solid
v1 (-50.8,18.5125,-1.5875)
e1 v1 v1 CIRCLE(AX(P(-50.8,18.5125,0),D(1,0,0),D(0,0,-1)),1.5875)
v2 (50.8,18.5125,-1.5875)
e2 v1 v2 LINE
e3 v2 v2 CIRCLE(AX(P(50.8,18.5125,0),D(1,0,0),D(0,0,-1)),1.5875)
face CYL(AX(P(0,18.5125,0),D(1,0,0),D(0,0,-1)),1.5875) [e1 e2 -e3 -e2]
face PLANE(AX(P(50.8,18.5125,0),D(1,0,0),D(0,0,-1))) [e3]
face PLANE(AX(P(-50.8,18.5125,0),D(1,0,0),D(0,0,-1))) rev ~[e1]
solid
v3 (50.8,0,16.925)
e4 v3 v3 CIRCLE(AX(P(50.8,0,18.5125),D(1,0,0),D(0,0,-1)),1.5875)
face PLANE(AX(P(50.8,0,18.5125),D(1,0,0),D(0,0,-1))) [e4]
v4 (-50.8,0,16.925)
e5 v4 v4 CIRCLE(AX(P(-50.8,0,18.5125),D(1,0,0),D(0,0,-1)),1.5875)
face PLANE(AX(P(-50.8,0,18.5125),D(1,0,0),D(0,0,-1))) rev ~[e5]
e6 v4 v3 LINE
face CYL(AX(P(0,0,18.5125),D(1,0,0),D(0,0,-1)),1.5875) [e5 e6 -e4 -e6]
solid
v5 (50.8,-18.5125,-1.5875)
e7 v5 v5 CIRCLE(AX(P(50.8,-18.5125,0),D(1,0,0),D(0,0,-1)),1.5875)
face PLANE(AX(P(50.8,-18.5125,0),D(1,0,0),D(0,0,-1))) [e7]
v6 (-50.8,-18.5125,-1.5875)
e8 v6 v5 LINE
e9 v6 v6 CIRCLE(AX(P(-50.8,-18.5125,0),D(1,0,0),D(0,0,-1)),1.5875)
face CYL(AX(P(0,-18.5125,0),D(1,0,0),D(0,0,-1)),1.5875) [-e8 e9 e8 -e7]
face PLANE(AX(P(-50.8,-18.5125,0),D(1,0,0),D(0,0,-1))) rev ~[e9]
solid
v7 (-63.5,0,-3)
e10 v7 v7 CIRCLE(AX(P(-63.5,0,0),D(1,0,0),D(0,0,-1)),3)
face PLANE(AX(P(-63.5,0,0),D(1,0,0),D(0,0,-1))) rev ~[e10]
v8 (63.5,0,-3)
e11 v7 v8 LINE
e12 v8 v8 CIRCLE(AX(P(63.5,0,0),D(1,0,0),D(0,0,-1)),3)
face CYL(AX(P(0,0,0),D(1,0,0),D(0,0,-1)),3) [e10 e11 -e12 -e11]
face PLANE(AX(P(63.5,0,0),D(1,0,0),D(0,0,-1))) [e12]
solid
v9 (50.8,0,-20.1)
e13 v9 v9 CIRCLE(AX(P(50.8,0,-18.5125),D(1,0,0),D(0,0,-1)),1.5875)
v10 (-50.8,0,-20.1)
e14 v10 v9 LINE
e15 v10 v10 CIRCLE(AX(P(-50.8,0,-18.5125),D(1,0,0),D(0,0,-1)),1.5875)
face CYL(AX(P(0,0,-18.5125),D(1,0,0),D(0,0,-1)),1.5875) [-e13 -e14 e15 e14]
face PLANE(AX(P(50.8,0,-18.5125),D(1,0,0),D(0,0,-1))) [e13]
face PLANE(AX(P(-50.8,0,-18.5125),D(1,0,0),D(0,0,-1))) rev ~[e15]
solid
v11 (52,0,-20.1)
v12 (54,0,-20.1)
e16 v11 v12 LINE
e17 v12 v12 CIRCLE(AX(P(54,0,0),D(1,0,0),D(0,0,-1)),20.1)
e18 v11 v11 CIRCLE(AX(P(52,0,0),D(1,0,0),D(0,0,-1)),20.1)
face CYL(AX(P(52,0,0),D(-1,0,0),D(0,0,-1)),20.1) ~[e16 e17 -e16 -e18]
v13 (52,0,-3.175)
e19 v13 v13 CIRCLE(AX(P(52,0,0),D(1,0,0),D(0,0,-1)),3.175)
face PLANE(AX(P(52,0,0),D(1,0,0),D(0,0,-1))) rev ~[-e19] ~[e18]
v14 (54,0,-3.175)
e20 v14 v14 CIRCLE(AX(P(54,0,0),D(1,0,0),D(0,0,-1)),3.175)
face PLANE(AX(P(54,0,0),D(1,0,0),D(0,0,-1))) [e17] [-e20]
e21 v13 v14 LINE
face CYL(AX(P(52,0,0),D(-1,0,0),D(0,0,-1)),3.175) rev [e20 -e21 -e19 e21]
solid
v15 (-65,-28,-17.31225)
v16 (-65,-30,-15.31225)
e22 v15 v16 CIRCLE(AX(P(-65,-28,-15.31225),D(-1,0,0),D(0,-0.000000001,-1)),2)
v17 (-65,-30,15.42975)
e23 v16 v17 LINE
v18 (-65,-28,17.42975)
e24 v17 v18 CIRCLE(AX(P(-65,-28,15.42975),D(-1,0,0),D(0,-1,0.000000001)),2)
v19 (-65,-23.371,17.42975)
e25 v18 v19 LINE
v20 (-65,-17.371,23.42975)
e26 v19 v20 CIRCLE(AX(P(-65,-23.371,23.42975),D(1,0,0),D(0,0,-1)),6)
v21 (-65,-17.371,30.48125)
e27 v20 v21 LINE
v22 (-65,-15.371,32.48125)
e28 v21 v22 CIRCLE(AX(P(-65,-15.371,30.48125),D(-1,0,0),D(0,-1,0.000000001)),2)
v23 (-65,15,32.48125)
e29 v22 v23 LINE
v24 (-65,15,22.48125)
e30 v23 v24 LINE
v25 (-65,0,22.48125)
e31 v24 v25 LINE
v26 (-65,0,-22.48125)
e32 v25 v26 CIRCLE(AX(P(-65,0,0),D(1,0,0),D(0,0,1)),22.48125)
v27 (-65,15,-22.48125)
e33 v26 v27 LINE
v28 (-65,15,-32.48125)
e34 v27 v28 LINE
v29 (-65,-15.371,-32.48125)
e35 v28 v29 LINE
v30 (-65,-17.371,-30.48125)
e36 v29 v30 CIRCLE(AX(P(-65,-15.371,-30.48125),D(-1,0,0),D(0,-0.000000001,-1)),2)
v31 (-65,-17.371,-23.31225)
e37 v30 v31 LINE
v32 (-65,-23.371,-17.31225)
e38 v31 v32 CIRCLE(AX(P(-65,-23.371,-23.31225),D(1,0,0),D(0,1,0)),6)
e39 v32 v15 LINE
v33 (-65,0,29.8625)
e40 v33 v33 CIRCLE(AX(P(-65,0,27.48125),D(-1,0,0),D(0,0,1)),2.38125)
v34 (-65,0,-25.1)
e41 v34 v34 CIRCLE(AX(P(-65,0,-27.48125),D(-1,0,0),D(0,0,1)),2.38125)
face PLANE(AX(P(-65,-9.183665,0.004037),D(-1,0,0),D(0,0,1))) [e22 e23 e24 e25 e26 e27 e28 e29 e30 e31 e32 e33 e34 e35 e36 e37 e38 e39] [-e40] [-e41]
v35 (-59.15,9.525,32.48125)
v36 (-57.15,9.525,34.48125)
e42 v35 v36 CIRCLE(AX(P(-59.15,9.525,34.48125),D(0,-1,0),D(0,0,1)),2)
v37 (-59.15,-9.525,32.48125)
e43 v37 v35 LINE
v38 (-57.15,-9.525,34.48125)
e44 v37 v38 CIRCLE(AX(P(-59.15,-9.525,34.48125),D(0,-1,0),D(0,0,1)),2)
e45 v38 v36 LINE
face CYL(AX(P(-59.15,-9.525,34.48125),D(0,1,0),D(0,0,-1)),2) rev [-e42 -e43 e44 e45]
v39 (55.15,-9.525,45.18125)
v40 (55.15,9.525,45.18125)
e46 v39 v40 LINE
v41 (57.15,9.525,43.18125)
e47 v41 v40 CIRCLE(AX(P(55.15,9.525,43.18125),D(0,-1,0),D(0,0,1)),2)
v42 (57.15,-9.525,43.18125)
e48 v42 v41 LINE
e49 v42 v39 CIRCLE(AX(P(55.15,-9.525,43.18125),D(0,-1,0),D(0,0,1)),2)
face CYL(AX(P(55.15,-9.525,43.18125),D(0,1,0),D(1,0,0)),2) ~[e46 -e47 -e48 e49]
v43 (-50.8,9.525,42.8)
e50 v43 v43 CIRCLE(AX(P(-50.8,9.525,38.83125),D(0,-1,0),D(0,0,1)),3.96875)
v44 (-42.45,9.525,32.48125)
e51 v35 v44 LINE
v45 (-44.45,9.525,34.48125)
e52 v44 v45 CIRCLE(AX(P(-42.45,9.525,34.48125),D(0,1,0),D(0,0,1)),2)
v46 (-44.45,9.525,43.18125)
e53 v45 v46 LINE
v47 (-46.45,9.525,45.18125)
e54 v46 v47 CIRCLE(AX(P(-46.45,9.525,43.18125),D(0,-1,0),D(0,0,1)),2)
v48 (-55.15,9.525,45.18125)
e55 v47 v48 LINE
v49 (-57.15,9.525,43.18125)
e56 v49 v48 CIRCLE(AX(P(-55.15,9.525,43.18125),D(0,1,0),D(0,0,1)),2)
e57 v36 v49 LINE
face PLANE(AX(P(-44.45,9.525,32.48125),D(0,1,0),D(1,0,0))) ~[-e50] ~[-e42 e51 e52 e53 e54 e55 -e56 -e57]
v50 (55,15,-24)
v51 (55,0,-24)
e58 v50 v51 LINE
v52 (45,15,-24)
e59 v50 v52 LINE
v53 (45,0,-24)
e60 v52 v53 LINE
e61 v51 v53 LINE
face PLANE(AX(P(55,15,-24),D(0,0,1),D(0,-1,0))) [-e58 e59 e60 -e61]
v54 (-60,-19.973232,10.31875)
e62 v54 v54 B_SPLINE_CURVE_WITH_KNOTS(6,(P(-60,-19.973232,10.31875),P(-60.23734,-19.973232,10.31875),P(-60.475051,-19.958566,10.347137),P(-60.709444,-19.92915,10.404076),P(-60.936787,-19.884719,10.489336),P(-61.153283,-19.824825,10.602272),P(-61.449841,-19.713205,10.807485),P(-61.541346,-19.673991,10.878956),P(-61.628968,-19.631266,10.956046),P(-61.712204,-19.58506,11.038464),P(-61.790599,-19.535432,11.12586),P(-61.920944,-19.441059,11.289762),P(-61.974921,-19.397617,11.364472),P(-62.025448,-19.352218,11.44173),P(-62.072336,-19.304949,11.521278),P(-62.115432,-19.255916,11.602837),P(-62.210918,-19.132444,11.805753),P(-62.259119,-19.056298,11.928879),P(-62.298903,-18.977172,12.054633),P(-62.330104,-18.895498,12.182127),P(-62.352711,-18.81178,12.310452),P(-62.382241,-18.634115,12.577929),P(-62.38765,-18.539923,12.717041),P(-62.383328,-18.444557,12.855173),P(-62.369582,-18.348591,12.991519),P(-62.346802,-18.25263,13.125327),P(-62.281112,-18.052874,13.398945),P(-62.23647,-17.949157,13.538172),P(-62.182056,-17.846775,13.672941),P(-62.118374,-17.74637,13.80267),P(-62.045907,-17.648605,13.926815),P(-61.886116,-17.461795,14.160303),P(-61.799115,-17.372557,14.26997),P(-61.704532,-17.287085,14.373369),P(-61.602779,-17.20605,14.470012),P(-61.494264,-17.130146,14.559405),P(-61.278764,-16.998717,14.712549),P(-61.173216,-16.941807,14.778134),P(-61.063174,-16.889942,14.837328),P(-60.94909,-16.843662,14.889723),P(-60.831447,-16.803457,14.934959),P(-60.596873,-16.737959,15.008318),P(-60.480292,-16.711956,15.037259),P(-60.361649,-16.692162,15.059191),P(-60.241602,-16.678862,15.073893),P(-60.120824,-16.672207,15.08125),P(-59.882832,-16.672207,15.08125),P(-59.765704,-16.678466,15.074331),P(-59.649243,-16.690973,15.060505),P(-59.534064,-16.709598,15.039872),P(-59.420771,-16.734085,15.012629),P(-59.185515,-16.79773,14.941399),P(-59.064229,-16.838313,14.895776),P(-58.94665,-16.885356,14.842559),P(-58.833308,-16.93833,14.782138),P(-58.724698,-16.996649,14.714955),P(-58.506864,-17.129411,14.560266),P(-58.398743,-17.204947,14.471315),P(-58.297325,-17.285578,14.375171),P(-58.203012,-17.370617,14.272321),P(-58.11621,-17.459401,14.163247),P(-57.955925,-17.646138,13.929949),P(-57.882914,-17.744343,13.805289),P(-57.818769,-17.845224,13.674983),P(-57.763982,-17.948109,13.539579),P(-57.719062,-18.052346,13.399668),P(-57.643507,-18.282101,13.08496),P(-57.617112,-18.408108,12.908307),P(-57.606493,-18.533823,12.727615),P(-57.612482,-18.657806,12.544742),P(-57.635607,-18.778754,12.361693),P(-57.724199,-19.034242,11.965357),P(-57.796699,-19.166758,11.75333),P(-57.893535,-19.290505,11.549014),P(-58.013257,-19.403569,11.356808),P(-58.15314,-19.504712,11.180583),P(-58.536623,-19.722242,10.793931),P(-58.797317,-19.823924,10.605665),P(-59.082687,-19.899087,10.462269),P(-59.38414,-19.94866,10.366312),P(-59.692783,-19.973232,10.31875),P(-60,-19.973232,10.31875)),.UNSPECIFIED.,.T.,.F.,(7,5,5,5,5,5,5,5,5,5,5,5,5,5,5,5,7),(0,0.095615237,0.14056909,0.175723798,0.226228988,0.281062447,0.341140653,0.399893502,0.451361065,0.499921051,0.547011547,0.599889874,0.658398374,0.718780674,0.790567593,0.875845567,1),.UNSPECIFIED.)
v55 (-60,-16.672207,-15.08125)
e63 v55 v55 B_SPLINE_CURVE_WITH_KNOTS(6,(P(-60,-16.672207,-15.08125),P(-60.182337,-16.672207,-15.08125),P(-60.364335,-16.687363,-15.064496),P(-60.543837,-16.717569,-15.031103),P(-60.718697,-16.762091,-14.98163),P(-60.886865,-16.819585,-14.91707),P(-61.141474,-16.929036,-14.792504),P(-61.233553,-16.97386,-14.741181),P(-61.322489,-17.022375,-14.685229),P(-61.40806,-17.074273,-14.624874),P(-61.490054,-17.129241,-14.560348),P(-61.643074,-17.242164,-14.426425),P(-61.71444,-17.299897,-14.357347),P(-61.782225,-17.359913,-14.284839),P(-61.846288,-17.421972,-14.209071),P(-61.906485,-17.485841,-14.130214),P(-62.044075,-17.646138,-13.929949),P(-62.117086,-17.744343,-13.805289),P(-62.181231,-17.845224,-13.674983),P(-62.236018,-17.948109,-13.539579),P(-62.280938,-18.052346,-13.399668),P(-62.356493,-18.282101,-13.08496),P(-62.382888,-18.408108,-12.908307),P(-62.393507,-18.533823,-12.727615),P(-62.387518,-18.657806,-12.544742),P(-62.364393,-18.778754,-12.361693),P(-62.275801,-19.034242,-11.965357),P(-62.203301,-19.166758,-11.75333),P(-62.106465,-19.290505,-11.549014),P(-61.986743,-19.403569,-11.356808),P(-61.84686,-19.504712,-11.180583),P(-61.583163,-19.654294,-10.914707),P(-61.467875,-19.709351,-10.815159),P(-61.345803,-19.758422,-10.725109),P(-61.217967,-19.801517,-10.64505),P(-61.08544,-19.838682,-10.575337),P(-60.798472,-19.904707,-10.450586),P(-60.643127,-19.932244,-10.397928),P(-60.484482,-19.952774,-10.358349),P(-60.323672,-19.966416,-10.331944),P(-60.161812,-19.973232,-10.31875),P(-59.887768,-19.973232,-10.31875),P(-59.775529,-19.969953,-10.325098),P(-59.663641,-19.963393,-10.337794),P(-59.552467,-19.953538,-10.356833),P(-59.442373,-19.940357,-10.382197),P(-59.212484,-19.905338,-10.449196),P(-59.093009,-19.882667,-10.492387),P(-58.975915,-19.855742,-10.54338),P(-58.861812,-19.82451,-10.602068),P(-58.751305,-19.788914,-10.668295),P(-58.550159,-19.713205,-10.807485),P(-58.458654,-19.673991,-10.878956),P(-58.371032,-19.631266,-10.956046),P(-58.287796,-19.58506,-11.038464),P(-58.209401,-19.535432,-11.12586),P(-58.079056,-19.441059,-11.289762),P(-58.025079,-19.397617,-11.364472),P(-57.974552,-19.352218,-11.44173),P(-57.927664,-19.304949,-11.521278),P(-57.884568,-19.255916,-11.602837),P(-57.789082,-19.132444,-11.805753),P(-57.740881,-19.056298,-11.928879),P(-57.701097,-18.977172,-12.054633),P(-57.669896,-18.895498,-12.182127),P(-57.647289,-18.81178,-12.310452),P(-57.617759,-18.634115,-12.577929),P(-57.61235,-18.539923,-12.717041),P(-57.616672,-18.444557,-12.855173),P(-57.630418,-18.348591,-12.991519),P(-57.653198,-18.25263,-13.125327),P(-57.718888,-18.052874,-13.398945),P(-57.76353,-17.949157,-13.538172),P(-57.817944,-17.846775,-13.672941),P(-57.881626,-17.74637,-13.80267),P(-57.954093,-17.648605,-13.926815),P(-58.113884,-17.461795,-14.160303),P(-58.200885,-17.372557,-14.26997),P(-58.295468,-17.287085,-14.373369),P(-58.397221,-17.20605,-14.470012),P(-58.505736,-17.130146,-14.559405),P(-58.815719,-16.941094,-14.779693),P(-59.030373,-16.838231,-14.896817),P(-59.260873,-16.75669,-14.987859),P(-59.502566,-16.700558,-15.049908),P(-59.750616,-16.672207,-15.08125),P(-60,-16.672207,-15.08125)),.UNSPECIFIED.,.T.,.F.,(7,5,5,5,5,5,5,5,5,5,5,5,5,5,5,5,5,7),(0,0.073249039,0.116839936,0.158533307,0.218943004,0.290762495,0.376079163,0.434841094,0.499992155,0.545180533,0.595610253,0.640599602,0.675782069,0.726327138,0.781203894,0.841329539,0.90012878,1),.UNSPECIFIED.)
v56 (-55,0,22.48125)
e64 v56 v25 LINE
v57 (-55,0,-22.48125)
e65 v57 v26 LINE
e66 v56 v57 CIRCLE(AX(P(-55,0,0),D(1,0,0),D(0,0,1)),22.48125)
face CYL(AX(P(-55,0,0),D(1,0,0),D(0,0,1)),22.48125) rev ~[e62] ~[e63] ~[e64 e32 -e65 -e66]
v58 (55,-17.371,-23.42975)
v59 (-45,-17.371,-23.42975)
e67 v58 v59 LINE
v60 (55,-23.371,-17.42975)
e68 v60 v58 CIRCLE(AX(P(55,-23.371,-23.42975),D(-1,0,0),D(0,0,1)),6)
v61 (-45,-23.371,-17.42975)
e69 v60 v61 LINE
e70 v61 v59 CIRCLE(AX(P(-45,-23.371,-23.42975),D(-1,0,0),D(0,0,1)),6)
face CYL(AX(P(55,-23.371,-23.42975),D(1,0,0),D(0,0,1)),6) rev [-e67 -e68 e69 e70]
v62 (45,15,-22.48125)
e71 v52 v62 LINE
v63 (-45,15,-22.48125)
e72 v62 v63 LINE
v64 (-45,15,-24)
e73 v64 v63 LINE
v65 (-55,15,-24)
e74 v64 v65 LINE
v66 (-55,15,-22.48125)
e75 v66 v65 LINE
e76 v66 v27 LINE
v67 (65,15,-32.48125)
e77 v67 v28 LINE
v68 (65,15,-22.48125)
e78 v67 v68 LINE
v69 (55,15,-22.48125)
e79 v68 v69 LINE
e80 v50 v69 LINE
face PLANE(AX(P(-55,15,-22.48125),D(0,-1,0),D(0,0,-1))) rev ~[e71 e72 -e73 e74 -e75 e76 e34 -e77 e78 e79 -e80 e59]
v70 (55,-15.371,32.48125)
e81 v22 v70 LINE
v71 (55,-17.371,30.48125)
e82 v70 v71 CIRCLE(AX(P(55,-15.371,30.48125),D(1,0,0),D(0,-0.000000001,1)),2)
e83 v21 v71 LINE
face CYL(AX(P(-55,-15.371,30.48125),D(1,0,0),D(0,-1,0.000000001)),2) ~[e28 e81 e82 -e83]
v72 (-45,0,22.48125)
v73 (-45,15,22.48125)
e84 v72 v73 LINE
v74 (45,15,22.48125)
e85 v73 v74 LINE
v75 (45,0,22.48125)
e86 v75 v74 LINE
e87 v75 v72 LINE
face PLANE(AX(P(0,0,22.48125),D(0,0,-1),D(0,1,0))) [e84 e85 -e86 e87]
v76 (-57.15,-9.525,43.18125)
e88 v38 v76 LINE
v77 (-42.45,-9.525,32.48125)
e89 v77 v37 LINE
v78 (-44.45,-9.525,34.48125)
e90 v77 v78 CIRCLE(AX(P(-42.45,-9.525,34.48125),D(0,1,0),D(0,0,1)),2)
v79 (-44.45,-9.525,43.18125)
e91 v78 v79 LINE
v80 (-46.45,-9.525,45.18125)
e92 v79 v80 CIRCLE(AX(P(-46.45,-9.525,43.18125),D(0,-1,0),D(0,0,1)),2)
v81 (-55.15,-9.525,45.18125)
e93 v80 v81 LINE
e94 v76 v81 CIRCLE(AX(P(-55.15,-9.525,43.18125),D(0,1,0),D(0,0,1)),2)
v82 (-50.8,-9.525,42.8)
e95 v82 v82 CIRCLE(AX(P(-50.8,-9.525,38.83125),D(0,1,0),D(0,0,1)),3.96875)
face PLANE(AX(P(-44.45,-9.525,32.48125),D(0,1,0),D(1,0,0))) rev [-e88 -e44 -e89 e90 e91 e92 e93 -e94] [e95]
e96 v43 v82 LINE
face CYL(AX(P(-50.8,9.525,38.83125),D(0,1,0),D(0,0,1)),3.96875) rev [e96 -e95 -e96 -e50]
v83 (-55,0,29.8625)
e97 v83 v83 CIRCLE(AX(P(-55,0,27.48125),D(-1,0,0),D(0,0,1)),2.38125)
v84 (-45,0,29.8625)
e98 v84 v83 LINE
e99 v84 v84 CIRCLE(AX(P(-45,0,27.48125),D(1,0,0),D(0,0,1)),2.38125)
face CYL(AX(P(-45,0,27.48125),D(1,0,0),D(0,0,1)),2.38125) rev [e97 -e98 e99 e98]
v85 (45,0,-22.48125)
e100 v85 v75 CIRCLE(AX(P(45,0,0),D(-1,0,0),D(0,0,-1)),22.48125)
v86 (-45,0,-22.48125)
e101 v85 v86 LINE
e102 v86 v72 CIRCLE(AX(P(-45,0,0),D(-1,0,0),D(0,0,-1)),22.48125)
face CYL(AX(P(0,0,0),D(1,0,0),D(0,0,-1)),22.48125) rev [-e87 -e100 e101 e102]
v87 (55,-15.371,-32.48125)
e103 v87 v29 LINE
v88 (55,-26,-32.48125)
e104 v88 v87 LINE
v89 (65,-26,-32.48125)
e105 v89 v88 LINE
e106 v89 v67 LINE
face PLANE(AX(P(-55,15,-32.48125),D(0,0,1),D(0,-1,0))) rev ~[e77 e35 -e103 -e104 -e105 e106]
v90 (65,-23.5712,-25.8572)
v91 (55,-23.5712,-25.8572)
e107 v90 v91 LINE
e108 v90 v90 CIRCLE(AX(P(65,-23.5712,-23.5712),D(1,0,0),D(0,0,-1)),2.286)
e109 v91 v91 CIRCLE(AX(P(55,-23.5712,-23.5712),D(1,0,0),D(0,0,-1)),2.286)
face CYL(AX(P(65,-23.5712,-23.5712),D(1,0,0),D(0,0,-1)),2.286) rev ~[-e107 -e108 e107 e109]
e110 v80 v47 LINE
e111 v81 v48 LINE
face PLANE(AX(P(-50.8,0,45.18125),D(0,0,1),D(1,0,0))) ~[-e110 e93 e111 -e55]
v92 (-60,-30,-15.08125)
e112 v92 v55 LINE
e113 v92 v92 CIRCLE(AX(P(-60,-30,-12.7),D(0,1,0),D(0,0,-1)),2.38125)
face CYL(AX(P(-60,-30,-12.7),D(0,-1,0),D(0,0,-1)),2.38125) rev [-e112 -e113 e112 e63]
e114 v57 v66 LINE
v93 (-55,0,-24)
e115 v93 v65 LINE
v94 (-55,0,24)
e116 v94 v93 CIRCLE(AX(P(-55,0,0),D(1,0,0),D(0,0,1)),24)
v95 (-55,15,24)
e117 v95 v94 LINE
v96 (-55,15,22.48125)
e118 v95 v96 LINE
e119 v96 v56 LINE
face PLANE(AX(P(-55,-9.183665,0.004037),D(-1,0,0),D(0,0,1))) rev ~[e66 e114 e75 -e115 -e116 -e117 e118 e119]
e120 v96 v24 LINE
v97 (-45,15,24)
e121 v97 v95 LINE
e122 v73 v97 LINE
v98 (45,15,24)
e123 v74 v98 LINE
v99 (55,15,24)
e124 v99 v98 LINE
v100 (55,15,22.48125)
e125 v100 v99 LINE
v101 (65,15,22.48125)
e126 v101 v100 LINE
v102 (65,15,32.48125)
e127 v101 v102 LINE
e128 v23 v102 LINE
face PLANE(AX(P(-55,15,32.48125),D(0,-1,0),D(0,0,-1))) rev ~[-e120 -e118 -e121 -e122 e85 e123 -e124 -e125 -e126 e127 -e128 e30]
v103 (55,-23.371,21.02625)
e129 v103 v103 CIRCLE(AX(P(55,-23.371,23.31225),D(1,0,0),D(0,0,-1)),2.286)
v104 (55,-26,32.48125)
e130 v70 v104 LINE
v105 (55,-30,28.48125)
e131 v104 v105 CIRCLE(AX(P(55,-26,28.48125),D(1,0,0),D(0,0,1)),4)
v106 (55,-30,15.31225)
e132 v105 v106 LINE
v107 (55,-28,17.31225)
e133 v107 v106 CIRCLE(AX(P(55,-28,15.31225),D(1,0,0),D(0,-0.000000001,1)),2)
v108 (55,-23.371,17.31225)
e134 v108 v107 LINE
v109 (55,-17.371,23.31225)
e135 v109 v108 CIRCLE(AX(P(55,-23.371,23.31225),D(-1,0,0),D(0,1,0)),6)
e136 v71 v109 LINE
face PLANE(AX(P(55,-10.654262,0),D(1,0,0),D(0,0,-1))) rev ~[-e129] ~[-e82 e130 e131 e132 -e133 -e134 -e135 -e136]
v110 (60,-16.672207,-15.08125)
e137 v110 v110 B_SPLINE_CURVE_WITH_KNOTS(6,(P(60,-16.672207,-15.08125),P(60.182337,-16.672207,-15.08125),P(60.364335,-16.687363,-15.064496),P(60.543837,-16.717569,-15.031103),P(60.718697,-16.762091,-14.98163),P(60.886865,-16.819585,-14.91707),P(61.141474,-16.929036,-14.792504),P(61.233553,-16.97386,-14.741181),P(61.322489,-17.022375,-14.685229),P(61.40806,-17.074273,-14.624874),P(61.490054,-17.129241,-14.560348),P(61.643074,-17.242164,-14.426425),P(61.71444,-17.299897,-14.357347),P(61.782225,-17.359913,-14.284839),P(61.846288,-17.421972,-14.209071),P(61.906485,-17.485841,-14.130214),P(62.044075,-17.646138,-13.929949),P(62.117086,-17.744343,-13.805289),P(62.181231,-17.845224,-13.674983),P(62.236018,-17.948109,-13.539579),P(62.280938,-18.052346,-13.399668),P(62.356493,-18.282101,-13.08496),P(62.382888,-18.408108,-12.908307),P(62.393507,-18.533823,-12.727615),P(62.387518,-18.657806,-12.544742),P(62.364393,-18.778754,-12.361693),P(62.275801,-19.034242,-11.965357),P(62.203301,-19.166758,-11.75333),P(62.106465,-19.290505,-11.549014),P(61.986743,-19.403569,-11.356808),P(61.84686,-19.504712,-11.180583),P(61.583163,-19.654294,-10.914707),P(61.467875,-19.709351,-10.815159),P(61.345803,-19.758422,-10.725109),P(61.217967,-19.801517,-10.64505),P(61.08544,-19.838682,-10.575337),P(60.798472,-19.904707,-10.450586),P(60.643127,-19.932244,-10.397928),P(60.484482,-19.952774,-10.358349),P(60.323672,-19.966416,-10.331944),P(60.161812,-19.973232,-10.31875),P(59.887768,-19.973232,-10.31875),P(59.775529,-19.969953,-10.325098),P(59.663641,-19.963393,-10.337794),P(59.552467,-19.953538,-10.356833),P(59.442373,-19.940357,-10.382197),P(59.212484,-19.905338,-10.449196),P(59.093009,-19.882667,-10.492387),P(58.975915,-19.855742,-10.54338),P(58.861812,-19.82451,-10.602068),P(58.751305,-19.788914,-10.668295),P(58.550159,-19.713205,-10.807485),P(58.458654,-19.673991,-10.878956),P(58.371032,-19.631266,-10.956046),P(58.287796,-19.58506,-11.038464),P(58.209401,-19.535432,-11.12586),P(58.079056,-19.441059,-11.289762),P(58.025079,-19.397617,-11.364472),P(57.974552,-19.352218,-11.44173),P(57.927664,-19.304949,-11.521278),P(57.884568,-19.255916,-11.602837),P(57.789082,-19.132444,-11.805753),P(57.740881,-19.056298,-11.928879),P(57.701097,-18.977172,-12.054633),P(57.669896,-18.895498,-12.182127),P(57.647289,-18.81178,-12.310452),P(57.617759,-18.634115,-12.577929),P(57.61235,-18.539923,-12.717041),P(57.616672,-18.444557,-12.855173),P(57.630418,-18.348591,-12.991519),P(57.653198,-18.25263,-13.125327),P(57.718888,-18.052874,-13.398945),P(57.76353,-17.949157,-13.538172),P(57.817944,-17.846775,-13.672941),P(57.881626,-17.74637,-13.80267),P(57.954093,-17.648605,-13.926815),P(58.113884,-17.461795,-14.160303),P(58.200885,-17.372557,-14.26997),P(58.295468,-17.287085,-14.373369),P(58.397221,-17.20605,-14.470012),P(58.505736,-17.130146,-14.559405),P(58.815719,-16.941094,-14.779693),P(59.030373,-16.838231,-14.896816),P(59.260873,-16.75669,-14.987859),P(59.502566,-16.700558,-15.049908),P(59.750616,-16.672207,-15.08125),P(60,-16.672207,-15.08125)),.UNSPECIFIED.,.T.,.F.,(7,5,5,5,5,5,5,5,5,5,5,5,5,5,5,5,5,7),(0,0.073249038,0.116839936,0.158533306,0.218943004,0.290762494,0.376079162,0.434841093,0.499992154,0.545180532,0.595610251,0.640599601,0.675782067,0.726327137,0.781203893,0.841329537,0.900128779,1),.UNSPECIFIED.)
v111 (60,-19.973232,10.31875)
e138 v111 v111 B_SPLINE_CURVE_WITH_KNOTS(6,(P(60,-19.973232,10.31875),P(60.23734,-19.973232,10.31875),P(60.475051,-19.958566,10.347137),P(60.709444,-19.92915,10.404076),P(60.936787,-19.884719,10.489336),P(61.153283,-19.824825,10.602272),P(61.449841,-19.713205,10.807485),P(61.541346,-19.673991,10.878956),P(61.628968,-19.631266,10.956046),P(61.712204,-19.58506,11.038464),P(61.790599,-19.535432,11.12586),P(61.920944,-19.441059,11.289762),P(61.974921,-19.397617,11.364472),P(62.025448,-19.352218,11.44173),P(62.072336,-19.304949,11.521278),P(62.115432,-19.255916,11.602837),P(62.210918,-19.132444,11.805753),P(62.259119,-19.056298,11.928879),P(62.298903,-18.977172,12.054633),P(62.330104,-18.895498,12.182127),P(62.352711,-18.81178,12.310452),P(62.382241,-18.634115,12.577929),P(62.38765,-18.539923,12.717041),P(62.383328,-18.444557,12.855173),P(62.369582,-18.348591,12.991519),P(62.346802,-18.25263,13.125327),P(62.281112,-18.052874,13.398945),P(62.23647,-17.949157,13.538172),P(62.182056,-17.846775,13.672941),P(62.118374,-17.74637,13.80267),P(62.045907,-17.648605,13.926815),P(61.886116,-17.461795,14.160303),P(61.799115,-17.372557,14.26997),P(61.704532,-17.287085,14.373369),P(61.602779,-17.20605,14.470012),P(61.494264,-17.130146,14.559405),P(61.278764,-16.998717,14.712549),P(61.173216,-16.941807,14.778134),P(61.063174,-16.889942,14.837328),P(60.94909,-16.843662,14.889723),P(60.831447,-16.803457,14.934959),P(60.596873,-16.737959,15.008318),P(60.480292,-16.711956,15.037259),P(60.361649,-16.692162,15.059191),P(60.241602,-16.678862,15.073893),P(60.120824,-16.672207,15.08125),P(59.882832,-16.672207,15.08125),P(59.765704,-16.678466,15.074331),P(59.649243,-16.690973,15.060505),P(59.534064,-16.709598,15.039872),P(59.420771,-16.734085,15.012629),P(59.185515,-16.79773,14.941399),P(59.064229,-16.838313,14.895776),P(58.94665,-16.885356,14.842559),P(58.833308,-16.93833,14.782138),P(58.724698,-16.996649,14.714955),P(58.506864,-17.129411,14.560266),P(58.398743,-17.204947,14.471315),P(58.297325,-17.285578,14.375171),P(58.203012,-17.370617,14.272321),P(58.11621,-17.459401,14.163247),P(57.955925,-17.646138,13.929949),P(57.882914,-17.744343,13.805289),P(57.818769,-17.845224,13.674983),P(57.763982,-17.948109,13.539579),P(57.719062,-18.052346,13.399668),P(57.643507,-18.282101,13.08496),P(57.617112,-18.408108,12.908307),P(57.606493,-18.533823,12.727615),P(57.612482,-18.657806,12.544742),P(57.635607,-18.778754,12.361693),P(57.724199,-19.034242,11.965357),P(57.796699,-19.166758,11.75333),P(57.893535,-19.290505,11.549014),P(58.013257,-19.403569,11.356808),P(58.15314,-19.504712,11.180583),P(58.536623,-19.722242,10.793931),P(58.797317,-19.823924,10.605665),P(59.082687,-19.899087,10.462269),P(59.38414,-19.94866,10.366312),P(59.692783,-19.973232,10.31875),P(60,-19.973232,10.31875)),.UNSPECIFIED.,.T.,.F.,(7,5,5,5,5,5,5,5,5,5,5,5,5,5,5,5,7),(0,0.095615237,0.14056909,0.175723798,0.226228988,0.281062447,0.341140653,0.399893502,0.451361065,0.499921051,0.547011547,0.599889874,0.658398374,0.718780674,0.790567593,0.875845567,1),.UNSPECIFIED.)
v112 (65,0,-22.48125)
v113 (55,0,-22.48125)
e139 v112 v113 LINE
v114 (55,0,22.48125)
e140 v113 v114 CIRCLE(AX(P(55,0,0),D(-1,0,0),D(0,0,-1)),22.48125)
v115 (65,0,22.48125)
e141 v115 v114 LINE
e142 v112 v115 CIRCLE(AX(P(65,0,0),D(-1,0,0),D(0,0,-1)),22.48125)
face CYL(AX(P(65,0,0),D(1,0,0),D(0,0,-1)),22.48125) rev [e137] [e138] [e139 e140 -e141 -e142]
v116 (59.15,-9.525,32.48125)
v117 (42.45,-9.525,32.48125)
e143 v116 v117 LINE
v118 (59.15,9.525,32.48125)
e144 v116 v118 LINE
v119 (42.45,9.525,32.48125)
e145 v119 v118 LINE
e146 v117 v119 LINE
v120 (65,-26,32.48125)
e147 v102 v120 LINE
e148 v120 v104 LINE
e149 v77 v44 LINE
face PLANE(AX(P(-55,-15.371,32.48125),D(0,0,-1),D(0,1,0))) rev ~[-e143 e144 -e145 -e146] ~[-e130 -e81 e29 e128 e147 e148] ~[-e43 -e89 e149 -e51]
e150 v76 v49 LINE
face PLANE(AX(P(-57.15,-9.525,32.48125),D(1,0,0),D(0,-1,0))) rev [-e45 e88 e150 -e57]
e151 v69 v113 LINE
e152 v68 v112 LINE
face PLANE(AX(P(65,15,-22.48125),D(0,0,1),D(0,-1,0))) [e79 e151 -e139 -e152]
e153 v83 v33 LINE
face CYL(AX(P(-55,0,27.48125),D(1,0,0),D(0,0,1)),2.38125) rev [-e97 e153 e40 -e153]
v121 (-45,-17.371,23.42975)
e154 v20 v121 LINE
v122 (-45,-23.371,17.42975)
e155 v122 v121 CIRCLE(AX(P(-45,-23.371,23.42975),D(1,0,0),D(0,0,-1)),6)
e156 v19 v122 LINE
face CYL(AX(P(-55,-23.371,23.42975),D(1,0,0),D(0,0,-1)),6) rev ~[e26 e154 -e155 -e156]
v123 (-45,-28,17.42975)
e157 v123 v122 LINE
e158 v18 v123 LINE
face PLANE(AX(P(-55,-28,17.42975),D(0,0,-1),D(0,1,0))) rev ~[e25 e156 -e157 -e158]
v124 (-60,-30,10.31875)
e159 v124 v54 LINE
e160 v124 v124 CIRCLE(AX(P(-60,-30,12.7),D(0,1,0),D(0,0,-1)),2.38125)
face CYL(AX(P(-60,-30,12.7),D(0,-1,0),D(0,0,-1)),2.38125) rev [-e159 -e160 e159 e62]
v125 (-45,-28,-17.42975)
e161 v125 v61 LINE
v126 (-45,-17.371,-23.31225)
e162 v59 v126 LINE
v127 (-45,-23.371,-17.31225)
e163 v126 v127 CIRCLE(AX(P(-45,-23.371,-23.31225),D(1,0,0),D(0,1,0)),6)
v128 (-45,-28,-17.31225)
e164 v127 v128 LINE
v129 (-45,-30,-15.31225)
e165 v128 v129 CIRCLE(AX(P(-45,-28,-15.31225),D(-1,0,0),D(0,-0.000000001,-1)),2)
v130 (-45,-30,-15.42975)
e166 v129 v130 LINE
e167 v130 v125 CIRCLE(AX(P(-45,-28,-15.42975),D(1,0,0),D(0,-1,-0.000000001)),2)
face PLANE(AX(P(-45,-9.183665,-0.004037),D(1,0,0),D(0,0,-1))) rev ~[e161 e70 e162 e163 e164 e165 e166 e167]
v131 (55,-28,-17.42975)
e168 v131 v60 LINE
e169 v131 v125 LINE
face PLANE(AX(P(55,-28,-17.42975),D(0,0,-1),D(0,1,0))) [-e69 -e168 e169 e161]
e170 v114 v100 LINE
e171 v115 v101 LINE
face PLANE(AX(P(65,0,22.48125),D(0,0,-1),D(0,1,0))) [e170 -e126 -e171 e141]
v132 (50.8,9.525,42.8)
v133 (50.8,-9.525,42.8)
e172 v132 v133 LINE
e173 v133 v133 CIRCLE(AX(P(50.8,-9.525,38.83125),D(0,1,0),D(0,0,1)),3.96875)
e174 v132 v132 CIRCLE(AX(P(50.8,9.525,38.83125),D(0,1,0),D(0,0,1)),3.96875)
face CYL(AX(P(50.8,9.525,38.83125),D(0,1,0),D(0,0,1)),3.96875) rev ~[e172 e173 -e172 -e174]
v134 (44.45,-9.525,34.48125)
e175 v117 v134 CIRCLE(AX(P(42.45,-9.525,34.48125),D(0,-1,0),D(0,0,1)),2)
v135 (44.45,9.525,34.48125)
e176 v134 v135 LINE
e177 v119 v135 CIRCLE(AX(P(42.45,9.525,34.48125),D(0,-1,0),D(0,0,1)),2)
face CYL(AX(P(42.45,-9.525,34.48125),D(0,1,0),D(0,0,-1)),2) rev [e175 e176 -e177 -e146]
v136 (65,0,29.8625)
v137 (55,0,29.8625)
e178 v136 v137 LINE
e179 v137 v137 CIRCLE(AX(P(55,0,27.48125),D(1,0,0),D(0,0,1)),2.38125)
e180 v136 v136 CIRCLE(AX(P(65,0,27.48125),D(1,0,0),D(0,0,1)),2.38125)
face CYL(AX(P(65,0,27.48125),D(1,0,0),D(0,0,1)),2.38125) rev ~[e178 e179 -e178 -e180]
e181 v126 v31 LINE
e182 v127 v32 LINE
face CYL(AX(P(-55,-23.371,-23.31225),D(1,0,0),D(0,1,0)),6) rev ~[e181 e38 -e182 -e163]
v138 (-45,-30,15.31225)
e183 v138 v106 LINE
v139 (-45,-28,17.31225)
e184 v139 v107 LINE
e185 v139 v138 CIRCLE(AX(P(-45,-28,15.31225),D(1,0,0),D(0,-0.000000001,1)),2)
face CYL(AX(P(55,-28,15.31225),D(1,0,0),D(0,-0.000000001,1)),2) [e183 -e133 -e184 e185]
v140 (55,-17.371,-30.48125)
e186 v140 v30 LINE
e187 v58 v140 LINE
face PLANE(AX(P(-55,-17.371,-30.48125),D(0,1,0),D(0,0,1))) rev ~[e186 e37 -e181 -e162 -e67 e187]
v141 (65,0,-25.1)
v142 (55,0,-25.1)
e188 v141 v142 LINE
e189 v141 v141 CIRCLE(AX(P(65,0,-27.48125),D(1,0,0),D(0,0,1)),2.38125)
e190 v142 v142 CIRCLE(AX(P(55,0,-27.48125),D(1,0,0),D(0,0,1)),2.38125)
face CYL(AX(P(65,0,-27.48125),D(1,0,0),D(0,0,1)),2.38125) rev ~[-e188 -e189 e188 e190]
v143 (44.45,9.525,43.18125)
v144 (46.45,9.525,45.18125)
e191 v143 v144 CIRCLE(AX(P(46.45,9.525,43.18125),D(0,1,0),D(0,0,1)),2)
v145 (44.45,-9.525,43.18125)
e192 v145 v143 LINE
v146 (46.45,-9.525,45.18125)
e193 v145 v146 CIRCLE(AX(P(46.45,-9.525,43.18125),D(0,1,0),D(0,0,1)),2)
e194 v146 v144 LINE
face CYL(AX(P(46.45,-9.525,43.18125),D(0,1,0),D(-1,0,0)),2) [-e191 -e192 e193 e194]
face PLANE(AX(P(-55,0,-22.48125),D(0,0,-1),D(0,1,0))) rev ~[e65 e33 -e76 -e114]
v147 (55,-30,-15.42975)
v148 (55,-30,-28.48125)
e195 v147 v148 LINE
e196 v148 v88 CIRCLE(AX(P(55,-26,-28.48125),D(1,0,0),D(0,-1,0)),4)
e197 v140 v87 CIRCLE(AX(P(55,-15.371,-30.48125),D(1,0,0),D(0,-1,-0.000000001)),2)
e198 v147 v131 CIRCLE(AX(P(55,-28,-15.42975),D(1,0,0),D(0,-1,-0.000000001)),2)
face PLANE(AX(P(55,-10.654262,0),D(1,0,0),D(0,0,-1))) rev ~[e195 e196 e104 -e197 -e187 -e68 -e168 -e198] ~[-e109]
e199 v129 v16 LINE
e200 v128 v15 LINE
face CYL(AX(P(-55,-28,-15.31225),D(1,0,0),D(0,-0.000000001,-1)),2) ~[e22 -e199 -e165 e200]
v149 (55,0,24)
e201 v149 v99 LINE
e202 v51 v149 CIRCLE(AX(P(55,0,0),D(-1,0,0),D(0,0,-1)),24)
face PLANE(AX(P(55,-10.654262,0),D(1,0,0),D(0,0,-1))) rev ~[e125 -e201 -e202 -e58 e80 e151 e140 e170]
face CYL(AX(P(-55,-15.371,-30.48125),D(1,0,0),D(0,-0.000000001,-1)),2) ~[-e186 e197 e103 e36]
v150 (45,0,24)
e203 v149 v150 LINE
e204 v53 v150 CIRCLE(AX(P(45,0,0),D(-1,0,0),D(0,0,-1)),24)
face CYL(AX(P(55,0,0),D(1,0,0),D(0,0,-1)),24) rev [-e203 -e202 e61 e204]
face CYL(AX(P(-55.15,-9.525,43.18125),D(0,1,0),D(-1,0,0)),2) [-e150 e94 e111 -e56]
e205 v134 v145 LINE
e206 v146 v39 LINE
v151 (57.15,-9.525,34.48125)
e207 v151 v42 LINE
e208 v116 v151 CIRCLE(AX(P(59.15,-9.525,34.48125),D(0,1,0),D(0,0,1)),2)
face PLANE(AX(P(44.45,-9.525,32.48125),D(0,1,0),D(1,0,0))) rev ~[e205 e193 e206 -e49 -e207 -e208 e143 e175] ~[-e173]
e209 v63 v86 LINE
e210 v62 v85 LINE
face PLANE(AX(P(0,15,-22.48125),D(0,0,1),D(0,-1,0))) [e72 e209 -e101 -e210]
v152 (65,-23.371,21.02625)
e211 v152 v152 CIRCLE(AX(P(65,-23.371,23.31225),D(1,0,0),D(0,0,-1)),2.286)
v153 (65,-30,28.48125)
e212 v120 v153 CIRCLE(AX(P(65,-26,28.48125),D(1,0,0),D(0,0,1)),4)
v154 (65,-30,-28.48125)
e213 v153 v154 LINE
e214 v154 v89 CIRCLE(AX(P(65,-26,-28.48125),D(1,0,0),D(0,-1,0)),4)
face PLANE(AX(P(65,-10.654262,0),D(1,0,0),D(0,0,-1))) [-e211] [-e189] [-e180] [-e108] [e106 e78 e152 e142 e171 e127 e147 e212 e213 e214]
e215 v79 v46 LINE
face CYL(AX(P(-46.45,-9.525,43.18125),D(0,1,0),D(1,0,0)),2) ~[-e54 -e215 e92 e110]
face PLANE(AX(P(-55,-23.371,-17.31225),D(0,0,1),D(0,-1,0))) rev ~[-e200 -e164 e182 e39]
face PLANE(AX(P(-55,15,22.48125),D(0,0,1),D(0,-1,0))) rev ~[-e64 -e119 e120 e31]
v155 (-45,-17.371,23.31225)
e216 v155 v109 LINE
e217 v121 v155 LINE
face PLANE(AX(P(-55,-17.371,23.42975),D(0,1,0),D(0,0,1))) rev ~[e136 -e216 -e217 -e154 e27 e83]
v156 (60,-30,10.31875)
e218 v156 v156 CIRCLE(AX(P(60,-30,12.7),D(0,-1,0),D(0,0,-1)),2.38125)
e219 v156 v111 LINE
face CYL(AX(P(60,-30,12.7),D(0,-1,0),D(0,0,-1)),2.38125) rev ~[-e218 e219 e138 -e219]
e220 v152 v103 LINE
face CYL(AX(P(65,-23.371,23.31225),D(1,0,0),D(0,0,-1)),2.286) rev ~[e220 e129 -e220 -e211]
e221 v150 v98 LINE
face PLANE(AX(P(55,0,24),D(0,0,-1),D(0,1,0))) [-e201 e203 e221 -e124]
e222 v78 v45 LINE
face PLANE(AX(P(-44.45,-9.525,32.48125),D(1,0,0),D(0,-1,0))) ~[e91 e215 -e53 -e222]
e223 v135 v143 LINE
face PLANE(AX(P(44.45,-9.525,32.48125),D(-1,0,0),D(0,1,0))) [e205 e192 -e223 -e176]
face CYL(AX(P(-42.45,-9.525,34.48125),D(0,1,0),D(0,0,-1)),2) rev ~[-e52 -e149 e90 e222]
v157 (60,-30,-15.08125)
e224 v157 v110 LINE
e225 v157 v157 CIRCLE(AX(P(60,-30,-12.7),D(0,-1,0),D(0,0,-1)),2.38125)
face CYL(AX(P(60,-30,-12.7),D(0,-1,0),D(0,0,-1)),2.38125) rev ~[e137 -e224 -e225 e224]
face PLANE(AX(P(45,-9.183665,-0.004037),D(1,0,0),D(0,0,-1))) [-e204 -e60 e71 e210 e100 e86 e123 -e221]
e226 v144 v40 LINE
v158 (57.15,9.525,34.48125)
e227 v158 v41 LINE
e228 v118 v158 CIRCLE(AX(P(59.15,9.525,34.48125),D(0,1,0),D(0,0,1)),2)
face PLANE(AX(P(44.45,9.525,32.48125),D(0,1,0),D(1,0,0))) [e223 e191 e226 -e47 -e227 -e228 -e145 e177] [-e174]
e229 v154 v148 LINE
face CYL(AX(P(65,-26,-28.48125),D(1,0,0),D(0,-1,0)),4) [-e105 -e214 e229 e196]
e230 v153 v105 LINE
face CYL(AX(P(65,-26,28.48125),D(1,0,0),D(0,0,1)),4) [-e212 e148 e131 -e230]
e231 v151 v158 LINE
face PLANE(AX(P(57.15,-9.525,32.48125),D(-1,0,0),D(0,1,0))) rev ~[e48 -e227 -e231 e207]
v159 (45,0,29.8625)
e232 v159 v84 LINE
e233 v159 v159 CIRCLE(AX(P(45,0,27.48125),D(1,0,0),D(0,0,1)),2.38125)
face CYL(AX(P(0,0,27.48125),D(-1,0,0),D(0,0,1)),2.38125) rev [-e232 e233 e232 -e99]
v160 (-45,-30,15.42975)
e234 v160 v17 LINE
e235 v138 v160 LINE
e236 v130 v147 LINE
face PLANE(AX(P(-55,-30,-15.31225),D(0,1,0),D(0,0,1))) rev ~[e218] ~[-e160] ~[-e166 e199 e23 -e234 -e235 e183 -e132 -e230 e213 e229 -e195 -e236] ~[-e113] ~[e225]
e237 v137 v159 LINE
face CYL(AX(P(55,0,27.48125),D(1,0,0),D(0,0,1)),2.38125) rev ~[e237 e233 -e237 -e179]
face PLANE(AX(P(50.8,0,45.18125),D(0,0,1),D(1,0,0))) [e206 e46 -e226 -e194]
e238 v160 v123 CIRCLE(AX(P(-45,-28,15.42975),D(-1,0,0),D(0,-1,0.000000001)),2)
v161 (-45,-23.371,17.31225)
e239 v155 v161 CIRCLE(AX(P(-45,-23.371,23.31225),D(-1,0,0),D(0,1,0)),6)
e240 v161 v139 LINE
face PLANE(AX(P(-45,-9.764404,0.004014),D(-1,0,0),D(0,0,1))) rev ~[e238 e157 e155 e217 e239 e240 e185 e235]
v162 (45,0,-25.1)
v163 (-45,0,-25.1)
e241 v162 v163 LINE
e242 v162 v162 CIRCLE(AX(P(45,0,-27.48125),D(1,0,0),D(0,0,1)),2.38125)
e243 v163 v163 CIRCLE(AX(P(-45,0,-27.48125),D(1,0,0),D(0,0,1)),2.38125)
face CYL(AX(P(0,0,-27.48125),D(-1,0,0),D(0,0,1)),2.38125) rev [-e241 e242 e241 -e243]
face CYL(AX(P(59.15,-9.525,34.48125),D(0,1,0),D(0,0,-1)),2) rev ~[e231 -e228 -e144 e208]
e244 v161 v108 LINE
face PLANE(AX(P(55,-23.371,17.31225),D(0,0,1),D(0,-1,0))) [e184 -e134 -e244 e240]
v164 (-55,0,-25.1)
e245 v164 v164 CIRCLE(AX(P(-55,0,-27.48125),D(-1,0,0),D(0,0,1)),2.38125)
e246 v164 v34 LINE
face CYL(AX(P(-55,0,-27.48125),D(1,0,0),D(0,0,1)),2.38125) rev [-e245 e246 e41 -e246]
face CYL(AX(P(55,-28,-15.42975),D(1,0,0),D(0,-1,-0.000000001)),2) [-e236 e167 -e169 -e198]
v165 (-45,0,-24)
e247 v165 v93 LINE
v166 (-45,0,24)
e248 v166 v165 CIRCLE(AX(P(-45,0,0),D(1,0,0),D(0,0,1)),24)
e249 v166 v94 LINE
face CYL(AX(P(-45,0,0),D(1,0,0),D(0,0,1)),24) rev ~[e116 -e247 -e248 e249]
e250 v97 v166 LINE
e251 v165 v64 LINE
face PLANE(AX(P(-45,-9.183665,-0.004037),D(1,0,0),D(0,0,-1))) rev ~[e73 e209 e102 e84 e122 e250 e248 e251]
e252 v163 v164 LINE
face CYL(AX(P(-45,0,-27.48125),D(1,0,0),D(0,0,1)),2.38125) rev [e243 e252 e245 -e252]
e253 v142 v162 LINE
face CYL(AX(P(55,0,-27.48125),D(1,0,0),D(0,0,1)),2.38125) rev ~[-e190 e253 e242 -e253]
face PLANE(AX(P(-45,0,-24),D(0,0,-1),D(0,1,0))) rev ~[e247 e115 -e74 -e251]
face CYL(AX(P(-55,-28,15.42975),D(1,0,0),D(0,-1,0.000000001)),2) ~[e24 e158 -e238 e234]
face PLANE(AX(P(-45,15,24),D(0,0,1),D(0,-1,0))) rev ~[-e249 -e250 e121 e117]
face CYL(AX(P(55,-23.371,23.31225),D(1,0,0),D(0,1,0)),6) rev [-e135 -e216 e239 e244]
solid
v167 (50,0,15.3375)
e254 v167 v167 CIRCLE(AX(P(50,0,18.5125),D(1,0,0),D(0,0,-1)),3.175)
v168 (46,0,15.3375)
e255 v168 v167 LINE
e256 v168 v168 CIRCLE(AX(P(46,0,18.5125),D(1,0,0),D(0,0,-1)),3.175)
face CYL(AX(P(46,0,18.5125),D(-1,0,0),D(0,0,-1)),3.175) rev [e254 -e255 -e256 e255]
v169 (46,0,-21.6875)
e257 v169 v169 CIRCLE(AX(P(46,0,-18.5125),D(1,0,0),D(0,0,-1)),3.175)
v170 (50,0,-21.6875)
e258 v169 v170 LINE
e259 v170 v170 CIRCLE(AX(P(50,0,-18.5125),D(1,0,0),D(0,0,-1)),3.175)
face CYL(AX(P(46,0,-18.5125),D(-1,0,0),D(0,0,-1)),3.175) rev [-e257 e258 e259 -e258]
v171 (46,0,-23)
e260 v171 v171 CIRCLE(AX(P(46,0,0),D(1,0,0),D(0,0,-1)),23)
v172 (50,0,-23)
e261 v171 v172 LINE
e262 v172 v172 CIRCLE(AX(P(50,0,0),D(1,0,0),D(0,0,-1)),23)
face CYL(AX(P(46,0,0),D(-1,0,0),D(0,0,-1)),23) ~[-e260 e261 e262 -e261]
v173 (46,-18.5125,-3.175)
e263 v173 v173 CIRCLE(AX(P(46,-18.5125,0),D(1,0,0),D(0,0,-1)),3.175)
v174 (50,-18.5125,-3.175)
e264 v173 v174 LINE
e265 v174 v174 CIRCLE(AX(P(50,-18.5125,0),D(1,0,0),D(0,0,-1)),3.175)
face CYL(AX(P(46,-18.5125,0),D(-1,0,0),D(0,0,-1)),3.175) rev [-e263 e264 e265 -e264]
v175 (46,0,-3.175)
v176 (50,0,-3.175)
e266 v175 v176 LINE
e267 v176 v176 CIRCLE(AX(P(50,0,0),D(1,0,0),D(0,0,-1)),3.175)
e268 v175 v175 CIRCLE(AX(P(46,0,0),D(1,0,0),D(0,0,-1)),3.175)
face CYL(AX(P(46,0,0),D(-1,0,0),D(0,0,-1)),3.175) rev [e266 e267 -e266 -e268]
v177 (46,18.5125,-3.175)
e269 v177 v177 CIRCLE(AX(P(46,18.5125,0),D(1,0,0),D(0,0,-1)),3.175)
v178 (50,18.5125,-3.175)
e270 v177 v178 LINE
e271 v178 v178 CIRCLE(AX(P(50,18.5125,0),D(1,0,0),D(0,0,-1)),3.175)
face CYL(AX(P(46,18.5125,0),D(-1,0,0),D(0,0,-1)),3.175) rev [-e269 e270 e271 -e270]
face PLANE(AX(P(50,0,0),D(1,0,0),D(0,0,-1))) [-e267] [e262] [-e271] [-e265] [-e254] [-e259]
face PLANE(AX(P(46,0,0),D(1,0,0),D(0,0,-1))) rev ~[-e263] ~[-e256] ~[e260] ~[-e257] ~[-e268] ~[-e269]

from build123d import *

# Parameters (mm, degrees)
SKETCH1_R             = 2.38125
BOSS_EXTRUDE1_DEPTH   = 45
SKETCH3_R             = 23
SKETCH3_R_2           = 3.175
BOSS_EXTRUDE2_DEPTH   = 4
SKETCH17_R            = 20.1
SKETCH17_R_2          = 3.175
BOSS_EXTRUDE4_DEPTH   = 2
SKETCH19_R            = 3
BOSS_EXTRUDE6_DEPTH   = 63.5
SKETCH20_R            = 1.5875
BOSS_EXTRUDE7_DEPTH   = 50.8
BOSS_EXTRUDE7_2_DEPTH = 50.8
BOSS_EXTRUDE7_3_DEPTH = 50.8
BOSS_EXTRUDE7_4_DEPTH = 50.8
BOSS_EXTRUDE8_START   = 10
SKETCH21_R            = 2.38125
BOSS_EXTRUDE8_DEPTH   = 10
BOSS_EXTRUDE9_START   = 10
SKETCH23_R            = 2.38125
SKETCH23_R_2          = 2.286
BOSS_EXTRUDE9_DEPTH   = 10
SKETCH24_R            = 2.38125
CUT_EXTRUDE1_DEPTH    = 50
SKETCH25_R            = 2.38125
BOSS_EXTRUDE10_DEPTH  = 10
SKETCH27_R            = 2.38125
BOSS_EXTRUDE11_DEPTH  = 10
SKETCH29_W            = 12.7
SKETCH29_H            = 19.05
BOSS_EXTRUDE12_DEPTH  = 12.7
SKETCH30_R            = 3.96875
CUT_EXTRUDE2_DEPTH    = 40
FILLET1_R             = 2


with BuildPart() as part:
    # Sketch1 → Boss-Extrude1 (new, symmetric)
    with BuildSketch(Plane(origin=(0, 0, 0), x_dir=(0, 0, -1), z_dir=(1, 0, 0))):
        with BuildLine():
            Line((-22.48125, 0), (-22.48125, 15))
            Line((-22.48125, 15), (-32.48125, 15))
            Line((-32.48125, 15), (-32.48125, -15.371))
            ThreePointArc((-32.48125, -15.371), (-31.895463562, -16.785213562), (-30.48125, -17.371))
            Line((-30.48125, -17.371), (-23.31225, -17.371))
            ThreePointArc((-23.31225, -17.371), (-19.069609313, -19.128359313), (-17.31225, -23.371))
            Line((-17.31225, -23.371), (-17.31225, -28))
            ThreePointArc((-17.31225, -28), (-16.726463562, -29.414213562), (-15.31225, -30))
            Line((-15.31225, -30), (15.42975, -30))
            ThreePointArc((15.42975, -30), (16.843963562, -29.414213562), (17.42975, -28))
            Line((17.42975, -28), (17.42975, -23.371))
            ThreePointArc((17.42975, -23.371), (19.187109313, -19.128359313), (23.42975, -17.371))
            Line((23.42975, -17.371), (30.05875, -17.371))
            Line((30.05875, -17.371), (30.48125, -17.371))
            ThreePointArc((30.48125, -17.371), (31.895463562, -16.785213562), (32.48125, -15.371))
            Line((32.48125, -15.371), (32.48125, 15))
            Line((32.48125, 15), (22.48125, 15))
            Line((22.48125, 15), (22.48125, 0))
            ThreePointArc((22.48125, 0), (0, -22.48125), (-22.48125, 0))
        make_face()
        with Locations(Location((-27.48125, 0, 0), (0, 0, 180))):
            Circle(SKETCH1_R, mode=Mode.SUBTRACT)
        with Locations(Location((27.48125, 0, 0), (0, 0, 180))):
            Circle(SKETCH1_R, mode=Mode.SUBTRACT)
    extrude(amount=BOSS_EXTRUDE1_DEPTH, both=True)

    # Sketch21 → Boss-Extrude8 (add)
    with BuildSketch(Plane(origin=(45, 0, 0), x_dir=(0, 0, -1), z_dir=(1, 0, 0)).offset(BOSS_EXTRUDE8_START)):
        with BuildLine():
            Line((-24, 0), (-24, 15))
            Line((-24, 15), (-32.48125, 15))
            Line((-32.48125, 15), (-32.48125, -15.371))
            ThreePointArc((-32.48125, -15.371), (-31.895463562, -16.785213562), (-30.48125, -17.371))
            Line((-30.48125, -17.371), (-23.31225, -17.371))
            ThreePointArc((-23.31225, -17.371), (-19.069609313, -19.128359313), (-17.31225, -23.371))
            Line((-17.31225, -23.371), (-17.31225, -28))
            ThreePointArc((-17.31225, -28), (-16.726463562, -29.414213562), (-15.31225, -30))
            Line((-15.31225, -30), (15.42975, -30))
            ThreePointArc((15.42975, -30), (16.843963562, -29.414213562), (17.42975, -28))
            Line((17.42975, -28), (17.42975, -23.371))
            ThreePointArc((17.42975, -23.371), (19.187109313, -19.128359313), (23.42975, -17.371))
            Line((23.42975, -17.371), (30.05875, -17.371))
            Line((30.05875, -17.371), (30.48125, -17.371))
            ThreePointArc((30.48125, -17.371), (31.895463562, -16.785213562), (32.48125, -15.371))
            Line((32.48125, -15.371), (32.48125, 15))
            Line((32.48125, 15), (24, 15))
            Line((24, 15), (24, 0))
            ThreePointArc((24, 0), (0, -24), (-24, 0))
        make_face()
        with Locations(Location((-27.48125, 0, 0), (0, 0, 180))):
            Circle(SKETCH21_R, mode=Mode.SUBTRACT)
        with Locations(Location((27.48125, 0, 0), (0, 0, 180))):
            Circle(SKETCH21_R, mode=Mode.SUBTRACT)
    extrude(amount=-BOSS_EXTRUDE8_DEPTH)

    # Sketch23 → Boss-Extrude9 (add)
    with BuildSketch(Plane(origin=(55, 0, 0), x_dir=(0, 0, -1), z_dir=(1, 0, 0)).offset(BOSS_EXTRUDE9_START)):
        with BuildLine():
            Line((-22.48125, 0), (-22.48125, 15))
            Line((-22.48125, 15), (-32.48125, 15))
            Line((-32.48125, 15), (-32.48125, -26))
            ThreePointArc((-32.48125, -26), (-31.309677125, -28.828427125), (-28.48125, -30))
            Line((-28.48125, -30), (28.48125, -30))
            ThreePointArc((28.48125, -30), (31.309677125, -28.828427125), (32.48125, -26))
            Line((32.48125, -26), (32.48125, 15))
            Line((32.48125, 15), (22.48125, 15))
            Line((22.48125, 15), (22.48125, 0))
            ThreePointArc((22.48125, 0), (0, -22.48125), (-22.48125, 0))
        make_face()
        with Locations(Location((-27.48125, 0, 0), (0, 0, 180))):
            Circle(SKETCH23_R, mode=Mode.SUBTRACT)
        with Locations(Location((27.48125, 0, 0), (0, 0, 180))):
            Circle(SKETCH23_R, mode=Mode.SUBTRACT)
        with Locations((-23.31225, -23.371)):
            Circle(SKETCH23_R_2, mode=Mode.SUBTRACT)
        with Locations((23.5712, -23.5712)):
            Circle(SKETCH23_R_2, mode=Mode.SUBTRACT)
    extrude(amount=-BOSS_EXTRUDE9_DEPTH)

    # Sketch24 → Cut-Extrude1 (cut)
    with BuildSketch(Plane.XZ.offset(30)):
        with Locations(Location((60, 12.7, 0), (0, 0, 270))):
            Circle(SKETCH24_R)
        with Locations(Location((60, -12.7, 0), (0, 0, 270))):
            Circle(SKETCH24_R)
    cut_extrude1 = extrude(amount=-CUT_EXTRUDE1_DEPTH, mode=Mode.SUBTRACT)

    # Sketch25 → Boss-Extrude10 (add)
    with BuildSketch(Plane.ZY.offset(45)):
        with BuildLine():
            Line((-24, 0), (-24, 15))
            Line((-24, 15), (-32.48125, 15))
            Line((-32.48125, 15), (-32.48125, -15.371))
            ThreePointArc((-32.48125, -15.371), (-31.895463562, -16.785213562), (-30.48125, -17.371))
            Line((-30.48125, -17.371), (-23.31225, -17.371))
            ThreePointArc((-23.31225, -17.371), (-19.069609313, -19.128359313), (-17.31225, -23.371))
            Line((-17.31225, -23.371), (-17.31225, -28))
            ThreePointArc((-17.31225, -28), (-16.726463562, -29.414213562), (-15.31225, -30))
            Line((-15.31225, -30), (15.42975, -30))
            ThreePointArc((15.42975, -30), (16.843963562, -29.414213562), (17.42975, -28))
            Line((17.42975, -28), (17.42975, -23.371))
            ThreePointArc((17.42975, -23.371), (19.187109313, -19.128359313), (23.42975, -17.371))
            Line((23.42975, -17.371), (30.05875, -17.371))
            Line((30.05875, -17.371), (30.48125, -17.371))
            ThreePointArc((30.48125, -17.371), (31.895463562, -16.785213562), (32.48125, -15.371))
            Line((32.48125, -15.371), (32.48125, 15))
            Line((32.48125, 15), (24, 15))
            Line((24, 15), (24, 0))
            ThreePointArc((24, 0), (0, -24), (-24, 0))
        make_face()
        with Locations((-27.48125, 0)):
            Circle(SKETCH25_R, mode=Mode.SUBTRACT)
        with Locations((27.48125, 0)):
            Circle(SKETCH25_R, mode=Mode.SUBTRACT)
    extrude(amount=BOSS_EXTRUDE10_DEPTH)

    # Sketch27 → Boss-Extrude11 (add)
    with BuildSketch(Plane.ZY.offset(55)):
        with BuildLine():
            Line((-22.48125, 0), (-22.48125, 15))
            Line((-22.48125, 15), (-32.48125, 15))
            Line((-32.48125, 15), (-32.48125, -15.371))
            ThreePointArc((-32.48125, -15.371), (-31.895463562, -16.785213562), (-30.48125, -17.371))
            Line((-30.48125, -17.371), (-23.31225, -17.371))
            ThreePointArc((-23.31225, -17.371), (-19.069609313, -19.128359313), (-17.31225, -23.371))
            Line((-17.31225, -23.371), (-17.31225, -28))
            ThreePointArc((-17.31225, -28), (-16.726463562, -29.414213562), (-15.31225, -30))
            Line((-15.31225, -30), (15.42975, -30))
            ThreePointArc((15.42975, -30), (16.843963562, -29.414213562), (17.42975, -28))
            Line((17.42975, -28), (17.42975, -23.371))
            ThreePointArc((17.42975, -23.371), (19.187109313, -19.128359313), (23.42975, -17.371))
            Line((23.42975, -17.371), (30.05875, -17.371))
            Line((30.05875, -17.371), (30.48125, -17.371))
            ThreePointArc((30.48125, -17.371), (31.895463562, -16.785213562), (32.48125, -15.371))
            Line((32.48125, -15.371), (32.48125, 15))
            Line((32.48125, 15), (22.48125, 15))
            Line((22.48125, 15), (22.48125, 0))
            ThreePointArc((22.48125, 0), (0, -22.48125), (-22.48125, 0))
        make_face()
        with Locations((-27.48125, 0)):
            Circle(SKETCH27_R, mode=Mode.SUBTRACT)
        with Locations((27.48125, 0)):
            Circle(SKETCH27_R, mode=Mode.SUBTRACT)
    extrude(amount=BOSS_EXTRUDE11_DEPTH)

    # Mirror6: Cut-Extrude1 across plane
    add(cut_extrude1.mirror(Plane(origin=(0, 0, 0), x_dir=(0, 0, 1), z_dir=(1, 0, 0))), mode=Mode.SUBTRACT)

    # Sketch29 → Boss-Extrude12 (add)
    with BuildSketch(Plane.XY.offset(32.48125)):
        with Locations((50.8, 0)):
            Rectangle(SKETCH29_W, SKETCH29_H)
    boss_extrude12 = extrude(amount=BOSS_EXTRUDE12_DEPTH)

    # Sketch30 → Cut-Extrude2 (cut)
    with BuildSketch(Plane(origin=(0, 9.525, 0), x_dir=(1, 0, 0), z_dir=(0, 1, 0))):
        with Locations(Location((50.8, -38.83125, 0), (0, 0, 270))):
            Circle(SKETCH30_R)
    cut_extrude2 = extrude(amount=-CUT_EXTRUDE2_DEPTH, mode=Mode.SUBTRACT)

    # Mirror7: Boss-Extrude12, Cut-Extrude2 across plane
    add(boss_extrude12.mirror(Plane(origin=(0, 0, 0), x_dir=(0, 0, 1), z_dir=(1, 0, 0))))
    add(cut_extrude2.mirror(Plane(origin=(0, 0, 0), x_dir=(0, 0, 1), z_dir=(1, 0, 0))), mode=Mode.SUBTRACT)

    # Fillet1
    fillet1_edges = [part.edges().sort_by_distance(p)[0] for p in [
        (57.15, 0, 45.18125),
        (44.45, 0, 32.48125),
        (44.45, 0, 45.18125),
        (57.15, 0, 32.48125),
        (-57.15, 0, 32.48125),
        (-44.45, 0, 45.18125),
        (-57.15, 0, 45.18125),
        (-44.45, 0, 32.48125),
    ]]
    fillet(fillet1_edges, radius=FILLET1_R)


with BuildPart() as body_2:
    # Sketch3 → Boss-Extrude2 (new body)
    with BuildSketch(Plane(origin=(46, 0, 0), x_dir=(0, 0, -1), z_dir=(1, 0, 0))):
        Circle(SKETCH3_R)
        Circle(SKETCH3_R_2, mode=Mode.SUBTRACT)
        with Locations((0, 18.5125)):
            Circle(SKETCH3_R_2, mode=Mode.SUBTRACT)
        with Locations((-18.5125, 0)):
            Circle(SKETCH3_R_2, mode=Mode.SUBTRACT)
        with Locations((0, -18.5125)):
            Circle(SKETCH3_R_2, mode=Mode.SUBTRACT)
        with Locations((18.5125, 0)):
            Circle(SKETCH3_R_2, mode=Mode.SUBTRACT)
    extrude(amount=BOSS_EXTRUDE2_DEPTH)


with BuildPart() as body_3:
    # Sketch17 → Boss-Extrude4 (new body)
    with BuildSketch(Plane(origin=(52, 0, 0), x_dir=(0, 0, -1), z_dir=(1, 0, 0))):
        Circle(SKETCH17_R)
        Circle(SKETCH17_R_2, mode=Mode.SUBTRACT)
    extrude(amount=BOSS_EXTRUDE4_DEPTH)


with BuildPart() as body_4:
    # Sketch19 → Boss-Extrude6 (new, symmetric)
    with BuildSketch(Plane(origin=(0, 0, 0), x_dir=(0, 0, -1), z_dir=(1, 0, 0))):
        Circle(SKETCH19_R)
    extrude(amount=BOSS_EXTRUDE6_DEPTH, both=True)


with BuildPart() as body_5:
    # Sketch20 → Boss-Extrude7 (new, symmetric)
    with BuildSketch(Plane(origin=(0, 0, 0), x_dir=(0, 0, -1), z_dir=(1, 0, 0))):
        with Locations((0, 18.5125)):
            Circle(SKETCH20_R)
    extrude(amount=BOSS_EXTRUDE7_DEPTH, both=True)


with BuildPart() as body_6:
    # Sketch20 → Boss-Extrude7 2 (new, symmetric)
    with BuildSketch(Plane(origin=(0, 0, 0), x_dir=(0, 0, -1), z_dir=(1, 0, 0))):
        with Locations((18.5125, 0)):
            Circle(SKETCH20_R)
    extrude(amount=BOSS_EXTRUDE7_2_DEPTH, both=True)


with BuildPart() as body_7:
    # Sketch20 → Boss-Extrude7 3 (new, symmetric)
    with BuildSketch(Plane(origin=(0, 0, 0), x_dir=(0, 0, -1), z_dir=(1, 0, 0))):
        with Locations((0, -18.5125)):
            Circle(SKETCH20_R)
    extrude(amount=BOSS_EXTRUDE7_3_DEPTH, both=True)


with BuildPart() as body_8:
    # Sketch20 → Boss-Extrude7 4 (new, symmetric)
    with BuildSketch(Plane(origin=(0, 0, 0), x_dir=(0, 0, -1), z_dir=(1, 0, 0))):
        with Locations((-18.5125, 0)):
            Circle(SKETCH20_R)
    extrude(amount=BOSS_EXTRUDE7_4_DEPTH, both=True)


solid = Compound([part.part, body_2.part, body_3.part, body_4.part, body_5.part, body_6.part, body_7.part, body_8.part])
